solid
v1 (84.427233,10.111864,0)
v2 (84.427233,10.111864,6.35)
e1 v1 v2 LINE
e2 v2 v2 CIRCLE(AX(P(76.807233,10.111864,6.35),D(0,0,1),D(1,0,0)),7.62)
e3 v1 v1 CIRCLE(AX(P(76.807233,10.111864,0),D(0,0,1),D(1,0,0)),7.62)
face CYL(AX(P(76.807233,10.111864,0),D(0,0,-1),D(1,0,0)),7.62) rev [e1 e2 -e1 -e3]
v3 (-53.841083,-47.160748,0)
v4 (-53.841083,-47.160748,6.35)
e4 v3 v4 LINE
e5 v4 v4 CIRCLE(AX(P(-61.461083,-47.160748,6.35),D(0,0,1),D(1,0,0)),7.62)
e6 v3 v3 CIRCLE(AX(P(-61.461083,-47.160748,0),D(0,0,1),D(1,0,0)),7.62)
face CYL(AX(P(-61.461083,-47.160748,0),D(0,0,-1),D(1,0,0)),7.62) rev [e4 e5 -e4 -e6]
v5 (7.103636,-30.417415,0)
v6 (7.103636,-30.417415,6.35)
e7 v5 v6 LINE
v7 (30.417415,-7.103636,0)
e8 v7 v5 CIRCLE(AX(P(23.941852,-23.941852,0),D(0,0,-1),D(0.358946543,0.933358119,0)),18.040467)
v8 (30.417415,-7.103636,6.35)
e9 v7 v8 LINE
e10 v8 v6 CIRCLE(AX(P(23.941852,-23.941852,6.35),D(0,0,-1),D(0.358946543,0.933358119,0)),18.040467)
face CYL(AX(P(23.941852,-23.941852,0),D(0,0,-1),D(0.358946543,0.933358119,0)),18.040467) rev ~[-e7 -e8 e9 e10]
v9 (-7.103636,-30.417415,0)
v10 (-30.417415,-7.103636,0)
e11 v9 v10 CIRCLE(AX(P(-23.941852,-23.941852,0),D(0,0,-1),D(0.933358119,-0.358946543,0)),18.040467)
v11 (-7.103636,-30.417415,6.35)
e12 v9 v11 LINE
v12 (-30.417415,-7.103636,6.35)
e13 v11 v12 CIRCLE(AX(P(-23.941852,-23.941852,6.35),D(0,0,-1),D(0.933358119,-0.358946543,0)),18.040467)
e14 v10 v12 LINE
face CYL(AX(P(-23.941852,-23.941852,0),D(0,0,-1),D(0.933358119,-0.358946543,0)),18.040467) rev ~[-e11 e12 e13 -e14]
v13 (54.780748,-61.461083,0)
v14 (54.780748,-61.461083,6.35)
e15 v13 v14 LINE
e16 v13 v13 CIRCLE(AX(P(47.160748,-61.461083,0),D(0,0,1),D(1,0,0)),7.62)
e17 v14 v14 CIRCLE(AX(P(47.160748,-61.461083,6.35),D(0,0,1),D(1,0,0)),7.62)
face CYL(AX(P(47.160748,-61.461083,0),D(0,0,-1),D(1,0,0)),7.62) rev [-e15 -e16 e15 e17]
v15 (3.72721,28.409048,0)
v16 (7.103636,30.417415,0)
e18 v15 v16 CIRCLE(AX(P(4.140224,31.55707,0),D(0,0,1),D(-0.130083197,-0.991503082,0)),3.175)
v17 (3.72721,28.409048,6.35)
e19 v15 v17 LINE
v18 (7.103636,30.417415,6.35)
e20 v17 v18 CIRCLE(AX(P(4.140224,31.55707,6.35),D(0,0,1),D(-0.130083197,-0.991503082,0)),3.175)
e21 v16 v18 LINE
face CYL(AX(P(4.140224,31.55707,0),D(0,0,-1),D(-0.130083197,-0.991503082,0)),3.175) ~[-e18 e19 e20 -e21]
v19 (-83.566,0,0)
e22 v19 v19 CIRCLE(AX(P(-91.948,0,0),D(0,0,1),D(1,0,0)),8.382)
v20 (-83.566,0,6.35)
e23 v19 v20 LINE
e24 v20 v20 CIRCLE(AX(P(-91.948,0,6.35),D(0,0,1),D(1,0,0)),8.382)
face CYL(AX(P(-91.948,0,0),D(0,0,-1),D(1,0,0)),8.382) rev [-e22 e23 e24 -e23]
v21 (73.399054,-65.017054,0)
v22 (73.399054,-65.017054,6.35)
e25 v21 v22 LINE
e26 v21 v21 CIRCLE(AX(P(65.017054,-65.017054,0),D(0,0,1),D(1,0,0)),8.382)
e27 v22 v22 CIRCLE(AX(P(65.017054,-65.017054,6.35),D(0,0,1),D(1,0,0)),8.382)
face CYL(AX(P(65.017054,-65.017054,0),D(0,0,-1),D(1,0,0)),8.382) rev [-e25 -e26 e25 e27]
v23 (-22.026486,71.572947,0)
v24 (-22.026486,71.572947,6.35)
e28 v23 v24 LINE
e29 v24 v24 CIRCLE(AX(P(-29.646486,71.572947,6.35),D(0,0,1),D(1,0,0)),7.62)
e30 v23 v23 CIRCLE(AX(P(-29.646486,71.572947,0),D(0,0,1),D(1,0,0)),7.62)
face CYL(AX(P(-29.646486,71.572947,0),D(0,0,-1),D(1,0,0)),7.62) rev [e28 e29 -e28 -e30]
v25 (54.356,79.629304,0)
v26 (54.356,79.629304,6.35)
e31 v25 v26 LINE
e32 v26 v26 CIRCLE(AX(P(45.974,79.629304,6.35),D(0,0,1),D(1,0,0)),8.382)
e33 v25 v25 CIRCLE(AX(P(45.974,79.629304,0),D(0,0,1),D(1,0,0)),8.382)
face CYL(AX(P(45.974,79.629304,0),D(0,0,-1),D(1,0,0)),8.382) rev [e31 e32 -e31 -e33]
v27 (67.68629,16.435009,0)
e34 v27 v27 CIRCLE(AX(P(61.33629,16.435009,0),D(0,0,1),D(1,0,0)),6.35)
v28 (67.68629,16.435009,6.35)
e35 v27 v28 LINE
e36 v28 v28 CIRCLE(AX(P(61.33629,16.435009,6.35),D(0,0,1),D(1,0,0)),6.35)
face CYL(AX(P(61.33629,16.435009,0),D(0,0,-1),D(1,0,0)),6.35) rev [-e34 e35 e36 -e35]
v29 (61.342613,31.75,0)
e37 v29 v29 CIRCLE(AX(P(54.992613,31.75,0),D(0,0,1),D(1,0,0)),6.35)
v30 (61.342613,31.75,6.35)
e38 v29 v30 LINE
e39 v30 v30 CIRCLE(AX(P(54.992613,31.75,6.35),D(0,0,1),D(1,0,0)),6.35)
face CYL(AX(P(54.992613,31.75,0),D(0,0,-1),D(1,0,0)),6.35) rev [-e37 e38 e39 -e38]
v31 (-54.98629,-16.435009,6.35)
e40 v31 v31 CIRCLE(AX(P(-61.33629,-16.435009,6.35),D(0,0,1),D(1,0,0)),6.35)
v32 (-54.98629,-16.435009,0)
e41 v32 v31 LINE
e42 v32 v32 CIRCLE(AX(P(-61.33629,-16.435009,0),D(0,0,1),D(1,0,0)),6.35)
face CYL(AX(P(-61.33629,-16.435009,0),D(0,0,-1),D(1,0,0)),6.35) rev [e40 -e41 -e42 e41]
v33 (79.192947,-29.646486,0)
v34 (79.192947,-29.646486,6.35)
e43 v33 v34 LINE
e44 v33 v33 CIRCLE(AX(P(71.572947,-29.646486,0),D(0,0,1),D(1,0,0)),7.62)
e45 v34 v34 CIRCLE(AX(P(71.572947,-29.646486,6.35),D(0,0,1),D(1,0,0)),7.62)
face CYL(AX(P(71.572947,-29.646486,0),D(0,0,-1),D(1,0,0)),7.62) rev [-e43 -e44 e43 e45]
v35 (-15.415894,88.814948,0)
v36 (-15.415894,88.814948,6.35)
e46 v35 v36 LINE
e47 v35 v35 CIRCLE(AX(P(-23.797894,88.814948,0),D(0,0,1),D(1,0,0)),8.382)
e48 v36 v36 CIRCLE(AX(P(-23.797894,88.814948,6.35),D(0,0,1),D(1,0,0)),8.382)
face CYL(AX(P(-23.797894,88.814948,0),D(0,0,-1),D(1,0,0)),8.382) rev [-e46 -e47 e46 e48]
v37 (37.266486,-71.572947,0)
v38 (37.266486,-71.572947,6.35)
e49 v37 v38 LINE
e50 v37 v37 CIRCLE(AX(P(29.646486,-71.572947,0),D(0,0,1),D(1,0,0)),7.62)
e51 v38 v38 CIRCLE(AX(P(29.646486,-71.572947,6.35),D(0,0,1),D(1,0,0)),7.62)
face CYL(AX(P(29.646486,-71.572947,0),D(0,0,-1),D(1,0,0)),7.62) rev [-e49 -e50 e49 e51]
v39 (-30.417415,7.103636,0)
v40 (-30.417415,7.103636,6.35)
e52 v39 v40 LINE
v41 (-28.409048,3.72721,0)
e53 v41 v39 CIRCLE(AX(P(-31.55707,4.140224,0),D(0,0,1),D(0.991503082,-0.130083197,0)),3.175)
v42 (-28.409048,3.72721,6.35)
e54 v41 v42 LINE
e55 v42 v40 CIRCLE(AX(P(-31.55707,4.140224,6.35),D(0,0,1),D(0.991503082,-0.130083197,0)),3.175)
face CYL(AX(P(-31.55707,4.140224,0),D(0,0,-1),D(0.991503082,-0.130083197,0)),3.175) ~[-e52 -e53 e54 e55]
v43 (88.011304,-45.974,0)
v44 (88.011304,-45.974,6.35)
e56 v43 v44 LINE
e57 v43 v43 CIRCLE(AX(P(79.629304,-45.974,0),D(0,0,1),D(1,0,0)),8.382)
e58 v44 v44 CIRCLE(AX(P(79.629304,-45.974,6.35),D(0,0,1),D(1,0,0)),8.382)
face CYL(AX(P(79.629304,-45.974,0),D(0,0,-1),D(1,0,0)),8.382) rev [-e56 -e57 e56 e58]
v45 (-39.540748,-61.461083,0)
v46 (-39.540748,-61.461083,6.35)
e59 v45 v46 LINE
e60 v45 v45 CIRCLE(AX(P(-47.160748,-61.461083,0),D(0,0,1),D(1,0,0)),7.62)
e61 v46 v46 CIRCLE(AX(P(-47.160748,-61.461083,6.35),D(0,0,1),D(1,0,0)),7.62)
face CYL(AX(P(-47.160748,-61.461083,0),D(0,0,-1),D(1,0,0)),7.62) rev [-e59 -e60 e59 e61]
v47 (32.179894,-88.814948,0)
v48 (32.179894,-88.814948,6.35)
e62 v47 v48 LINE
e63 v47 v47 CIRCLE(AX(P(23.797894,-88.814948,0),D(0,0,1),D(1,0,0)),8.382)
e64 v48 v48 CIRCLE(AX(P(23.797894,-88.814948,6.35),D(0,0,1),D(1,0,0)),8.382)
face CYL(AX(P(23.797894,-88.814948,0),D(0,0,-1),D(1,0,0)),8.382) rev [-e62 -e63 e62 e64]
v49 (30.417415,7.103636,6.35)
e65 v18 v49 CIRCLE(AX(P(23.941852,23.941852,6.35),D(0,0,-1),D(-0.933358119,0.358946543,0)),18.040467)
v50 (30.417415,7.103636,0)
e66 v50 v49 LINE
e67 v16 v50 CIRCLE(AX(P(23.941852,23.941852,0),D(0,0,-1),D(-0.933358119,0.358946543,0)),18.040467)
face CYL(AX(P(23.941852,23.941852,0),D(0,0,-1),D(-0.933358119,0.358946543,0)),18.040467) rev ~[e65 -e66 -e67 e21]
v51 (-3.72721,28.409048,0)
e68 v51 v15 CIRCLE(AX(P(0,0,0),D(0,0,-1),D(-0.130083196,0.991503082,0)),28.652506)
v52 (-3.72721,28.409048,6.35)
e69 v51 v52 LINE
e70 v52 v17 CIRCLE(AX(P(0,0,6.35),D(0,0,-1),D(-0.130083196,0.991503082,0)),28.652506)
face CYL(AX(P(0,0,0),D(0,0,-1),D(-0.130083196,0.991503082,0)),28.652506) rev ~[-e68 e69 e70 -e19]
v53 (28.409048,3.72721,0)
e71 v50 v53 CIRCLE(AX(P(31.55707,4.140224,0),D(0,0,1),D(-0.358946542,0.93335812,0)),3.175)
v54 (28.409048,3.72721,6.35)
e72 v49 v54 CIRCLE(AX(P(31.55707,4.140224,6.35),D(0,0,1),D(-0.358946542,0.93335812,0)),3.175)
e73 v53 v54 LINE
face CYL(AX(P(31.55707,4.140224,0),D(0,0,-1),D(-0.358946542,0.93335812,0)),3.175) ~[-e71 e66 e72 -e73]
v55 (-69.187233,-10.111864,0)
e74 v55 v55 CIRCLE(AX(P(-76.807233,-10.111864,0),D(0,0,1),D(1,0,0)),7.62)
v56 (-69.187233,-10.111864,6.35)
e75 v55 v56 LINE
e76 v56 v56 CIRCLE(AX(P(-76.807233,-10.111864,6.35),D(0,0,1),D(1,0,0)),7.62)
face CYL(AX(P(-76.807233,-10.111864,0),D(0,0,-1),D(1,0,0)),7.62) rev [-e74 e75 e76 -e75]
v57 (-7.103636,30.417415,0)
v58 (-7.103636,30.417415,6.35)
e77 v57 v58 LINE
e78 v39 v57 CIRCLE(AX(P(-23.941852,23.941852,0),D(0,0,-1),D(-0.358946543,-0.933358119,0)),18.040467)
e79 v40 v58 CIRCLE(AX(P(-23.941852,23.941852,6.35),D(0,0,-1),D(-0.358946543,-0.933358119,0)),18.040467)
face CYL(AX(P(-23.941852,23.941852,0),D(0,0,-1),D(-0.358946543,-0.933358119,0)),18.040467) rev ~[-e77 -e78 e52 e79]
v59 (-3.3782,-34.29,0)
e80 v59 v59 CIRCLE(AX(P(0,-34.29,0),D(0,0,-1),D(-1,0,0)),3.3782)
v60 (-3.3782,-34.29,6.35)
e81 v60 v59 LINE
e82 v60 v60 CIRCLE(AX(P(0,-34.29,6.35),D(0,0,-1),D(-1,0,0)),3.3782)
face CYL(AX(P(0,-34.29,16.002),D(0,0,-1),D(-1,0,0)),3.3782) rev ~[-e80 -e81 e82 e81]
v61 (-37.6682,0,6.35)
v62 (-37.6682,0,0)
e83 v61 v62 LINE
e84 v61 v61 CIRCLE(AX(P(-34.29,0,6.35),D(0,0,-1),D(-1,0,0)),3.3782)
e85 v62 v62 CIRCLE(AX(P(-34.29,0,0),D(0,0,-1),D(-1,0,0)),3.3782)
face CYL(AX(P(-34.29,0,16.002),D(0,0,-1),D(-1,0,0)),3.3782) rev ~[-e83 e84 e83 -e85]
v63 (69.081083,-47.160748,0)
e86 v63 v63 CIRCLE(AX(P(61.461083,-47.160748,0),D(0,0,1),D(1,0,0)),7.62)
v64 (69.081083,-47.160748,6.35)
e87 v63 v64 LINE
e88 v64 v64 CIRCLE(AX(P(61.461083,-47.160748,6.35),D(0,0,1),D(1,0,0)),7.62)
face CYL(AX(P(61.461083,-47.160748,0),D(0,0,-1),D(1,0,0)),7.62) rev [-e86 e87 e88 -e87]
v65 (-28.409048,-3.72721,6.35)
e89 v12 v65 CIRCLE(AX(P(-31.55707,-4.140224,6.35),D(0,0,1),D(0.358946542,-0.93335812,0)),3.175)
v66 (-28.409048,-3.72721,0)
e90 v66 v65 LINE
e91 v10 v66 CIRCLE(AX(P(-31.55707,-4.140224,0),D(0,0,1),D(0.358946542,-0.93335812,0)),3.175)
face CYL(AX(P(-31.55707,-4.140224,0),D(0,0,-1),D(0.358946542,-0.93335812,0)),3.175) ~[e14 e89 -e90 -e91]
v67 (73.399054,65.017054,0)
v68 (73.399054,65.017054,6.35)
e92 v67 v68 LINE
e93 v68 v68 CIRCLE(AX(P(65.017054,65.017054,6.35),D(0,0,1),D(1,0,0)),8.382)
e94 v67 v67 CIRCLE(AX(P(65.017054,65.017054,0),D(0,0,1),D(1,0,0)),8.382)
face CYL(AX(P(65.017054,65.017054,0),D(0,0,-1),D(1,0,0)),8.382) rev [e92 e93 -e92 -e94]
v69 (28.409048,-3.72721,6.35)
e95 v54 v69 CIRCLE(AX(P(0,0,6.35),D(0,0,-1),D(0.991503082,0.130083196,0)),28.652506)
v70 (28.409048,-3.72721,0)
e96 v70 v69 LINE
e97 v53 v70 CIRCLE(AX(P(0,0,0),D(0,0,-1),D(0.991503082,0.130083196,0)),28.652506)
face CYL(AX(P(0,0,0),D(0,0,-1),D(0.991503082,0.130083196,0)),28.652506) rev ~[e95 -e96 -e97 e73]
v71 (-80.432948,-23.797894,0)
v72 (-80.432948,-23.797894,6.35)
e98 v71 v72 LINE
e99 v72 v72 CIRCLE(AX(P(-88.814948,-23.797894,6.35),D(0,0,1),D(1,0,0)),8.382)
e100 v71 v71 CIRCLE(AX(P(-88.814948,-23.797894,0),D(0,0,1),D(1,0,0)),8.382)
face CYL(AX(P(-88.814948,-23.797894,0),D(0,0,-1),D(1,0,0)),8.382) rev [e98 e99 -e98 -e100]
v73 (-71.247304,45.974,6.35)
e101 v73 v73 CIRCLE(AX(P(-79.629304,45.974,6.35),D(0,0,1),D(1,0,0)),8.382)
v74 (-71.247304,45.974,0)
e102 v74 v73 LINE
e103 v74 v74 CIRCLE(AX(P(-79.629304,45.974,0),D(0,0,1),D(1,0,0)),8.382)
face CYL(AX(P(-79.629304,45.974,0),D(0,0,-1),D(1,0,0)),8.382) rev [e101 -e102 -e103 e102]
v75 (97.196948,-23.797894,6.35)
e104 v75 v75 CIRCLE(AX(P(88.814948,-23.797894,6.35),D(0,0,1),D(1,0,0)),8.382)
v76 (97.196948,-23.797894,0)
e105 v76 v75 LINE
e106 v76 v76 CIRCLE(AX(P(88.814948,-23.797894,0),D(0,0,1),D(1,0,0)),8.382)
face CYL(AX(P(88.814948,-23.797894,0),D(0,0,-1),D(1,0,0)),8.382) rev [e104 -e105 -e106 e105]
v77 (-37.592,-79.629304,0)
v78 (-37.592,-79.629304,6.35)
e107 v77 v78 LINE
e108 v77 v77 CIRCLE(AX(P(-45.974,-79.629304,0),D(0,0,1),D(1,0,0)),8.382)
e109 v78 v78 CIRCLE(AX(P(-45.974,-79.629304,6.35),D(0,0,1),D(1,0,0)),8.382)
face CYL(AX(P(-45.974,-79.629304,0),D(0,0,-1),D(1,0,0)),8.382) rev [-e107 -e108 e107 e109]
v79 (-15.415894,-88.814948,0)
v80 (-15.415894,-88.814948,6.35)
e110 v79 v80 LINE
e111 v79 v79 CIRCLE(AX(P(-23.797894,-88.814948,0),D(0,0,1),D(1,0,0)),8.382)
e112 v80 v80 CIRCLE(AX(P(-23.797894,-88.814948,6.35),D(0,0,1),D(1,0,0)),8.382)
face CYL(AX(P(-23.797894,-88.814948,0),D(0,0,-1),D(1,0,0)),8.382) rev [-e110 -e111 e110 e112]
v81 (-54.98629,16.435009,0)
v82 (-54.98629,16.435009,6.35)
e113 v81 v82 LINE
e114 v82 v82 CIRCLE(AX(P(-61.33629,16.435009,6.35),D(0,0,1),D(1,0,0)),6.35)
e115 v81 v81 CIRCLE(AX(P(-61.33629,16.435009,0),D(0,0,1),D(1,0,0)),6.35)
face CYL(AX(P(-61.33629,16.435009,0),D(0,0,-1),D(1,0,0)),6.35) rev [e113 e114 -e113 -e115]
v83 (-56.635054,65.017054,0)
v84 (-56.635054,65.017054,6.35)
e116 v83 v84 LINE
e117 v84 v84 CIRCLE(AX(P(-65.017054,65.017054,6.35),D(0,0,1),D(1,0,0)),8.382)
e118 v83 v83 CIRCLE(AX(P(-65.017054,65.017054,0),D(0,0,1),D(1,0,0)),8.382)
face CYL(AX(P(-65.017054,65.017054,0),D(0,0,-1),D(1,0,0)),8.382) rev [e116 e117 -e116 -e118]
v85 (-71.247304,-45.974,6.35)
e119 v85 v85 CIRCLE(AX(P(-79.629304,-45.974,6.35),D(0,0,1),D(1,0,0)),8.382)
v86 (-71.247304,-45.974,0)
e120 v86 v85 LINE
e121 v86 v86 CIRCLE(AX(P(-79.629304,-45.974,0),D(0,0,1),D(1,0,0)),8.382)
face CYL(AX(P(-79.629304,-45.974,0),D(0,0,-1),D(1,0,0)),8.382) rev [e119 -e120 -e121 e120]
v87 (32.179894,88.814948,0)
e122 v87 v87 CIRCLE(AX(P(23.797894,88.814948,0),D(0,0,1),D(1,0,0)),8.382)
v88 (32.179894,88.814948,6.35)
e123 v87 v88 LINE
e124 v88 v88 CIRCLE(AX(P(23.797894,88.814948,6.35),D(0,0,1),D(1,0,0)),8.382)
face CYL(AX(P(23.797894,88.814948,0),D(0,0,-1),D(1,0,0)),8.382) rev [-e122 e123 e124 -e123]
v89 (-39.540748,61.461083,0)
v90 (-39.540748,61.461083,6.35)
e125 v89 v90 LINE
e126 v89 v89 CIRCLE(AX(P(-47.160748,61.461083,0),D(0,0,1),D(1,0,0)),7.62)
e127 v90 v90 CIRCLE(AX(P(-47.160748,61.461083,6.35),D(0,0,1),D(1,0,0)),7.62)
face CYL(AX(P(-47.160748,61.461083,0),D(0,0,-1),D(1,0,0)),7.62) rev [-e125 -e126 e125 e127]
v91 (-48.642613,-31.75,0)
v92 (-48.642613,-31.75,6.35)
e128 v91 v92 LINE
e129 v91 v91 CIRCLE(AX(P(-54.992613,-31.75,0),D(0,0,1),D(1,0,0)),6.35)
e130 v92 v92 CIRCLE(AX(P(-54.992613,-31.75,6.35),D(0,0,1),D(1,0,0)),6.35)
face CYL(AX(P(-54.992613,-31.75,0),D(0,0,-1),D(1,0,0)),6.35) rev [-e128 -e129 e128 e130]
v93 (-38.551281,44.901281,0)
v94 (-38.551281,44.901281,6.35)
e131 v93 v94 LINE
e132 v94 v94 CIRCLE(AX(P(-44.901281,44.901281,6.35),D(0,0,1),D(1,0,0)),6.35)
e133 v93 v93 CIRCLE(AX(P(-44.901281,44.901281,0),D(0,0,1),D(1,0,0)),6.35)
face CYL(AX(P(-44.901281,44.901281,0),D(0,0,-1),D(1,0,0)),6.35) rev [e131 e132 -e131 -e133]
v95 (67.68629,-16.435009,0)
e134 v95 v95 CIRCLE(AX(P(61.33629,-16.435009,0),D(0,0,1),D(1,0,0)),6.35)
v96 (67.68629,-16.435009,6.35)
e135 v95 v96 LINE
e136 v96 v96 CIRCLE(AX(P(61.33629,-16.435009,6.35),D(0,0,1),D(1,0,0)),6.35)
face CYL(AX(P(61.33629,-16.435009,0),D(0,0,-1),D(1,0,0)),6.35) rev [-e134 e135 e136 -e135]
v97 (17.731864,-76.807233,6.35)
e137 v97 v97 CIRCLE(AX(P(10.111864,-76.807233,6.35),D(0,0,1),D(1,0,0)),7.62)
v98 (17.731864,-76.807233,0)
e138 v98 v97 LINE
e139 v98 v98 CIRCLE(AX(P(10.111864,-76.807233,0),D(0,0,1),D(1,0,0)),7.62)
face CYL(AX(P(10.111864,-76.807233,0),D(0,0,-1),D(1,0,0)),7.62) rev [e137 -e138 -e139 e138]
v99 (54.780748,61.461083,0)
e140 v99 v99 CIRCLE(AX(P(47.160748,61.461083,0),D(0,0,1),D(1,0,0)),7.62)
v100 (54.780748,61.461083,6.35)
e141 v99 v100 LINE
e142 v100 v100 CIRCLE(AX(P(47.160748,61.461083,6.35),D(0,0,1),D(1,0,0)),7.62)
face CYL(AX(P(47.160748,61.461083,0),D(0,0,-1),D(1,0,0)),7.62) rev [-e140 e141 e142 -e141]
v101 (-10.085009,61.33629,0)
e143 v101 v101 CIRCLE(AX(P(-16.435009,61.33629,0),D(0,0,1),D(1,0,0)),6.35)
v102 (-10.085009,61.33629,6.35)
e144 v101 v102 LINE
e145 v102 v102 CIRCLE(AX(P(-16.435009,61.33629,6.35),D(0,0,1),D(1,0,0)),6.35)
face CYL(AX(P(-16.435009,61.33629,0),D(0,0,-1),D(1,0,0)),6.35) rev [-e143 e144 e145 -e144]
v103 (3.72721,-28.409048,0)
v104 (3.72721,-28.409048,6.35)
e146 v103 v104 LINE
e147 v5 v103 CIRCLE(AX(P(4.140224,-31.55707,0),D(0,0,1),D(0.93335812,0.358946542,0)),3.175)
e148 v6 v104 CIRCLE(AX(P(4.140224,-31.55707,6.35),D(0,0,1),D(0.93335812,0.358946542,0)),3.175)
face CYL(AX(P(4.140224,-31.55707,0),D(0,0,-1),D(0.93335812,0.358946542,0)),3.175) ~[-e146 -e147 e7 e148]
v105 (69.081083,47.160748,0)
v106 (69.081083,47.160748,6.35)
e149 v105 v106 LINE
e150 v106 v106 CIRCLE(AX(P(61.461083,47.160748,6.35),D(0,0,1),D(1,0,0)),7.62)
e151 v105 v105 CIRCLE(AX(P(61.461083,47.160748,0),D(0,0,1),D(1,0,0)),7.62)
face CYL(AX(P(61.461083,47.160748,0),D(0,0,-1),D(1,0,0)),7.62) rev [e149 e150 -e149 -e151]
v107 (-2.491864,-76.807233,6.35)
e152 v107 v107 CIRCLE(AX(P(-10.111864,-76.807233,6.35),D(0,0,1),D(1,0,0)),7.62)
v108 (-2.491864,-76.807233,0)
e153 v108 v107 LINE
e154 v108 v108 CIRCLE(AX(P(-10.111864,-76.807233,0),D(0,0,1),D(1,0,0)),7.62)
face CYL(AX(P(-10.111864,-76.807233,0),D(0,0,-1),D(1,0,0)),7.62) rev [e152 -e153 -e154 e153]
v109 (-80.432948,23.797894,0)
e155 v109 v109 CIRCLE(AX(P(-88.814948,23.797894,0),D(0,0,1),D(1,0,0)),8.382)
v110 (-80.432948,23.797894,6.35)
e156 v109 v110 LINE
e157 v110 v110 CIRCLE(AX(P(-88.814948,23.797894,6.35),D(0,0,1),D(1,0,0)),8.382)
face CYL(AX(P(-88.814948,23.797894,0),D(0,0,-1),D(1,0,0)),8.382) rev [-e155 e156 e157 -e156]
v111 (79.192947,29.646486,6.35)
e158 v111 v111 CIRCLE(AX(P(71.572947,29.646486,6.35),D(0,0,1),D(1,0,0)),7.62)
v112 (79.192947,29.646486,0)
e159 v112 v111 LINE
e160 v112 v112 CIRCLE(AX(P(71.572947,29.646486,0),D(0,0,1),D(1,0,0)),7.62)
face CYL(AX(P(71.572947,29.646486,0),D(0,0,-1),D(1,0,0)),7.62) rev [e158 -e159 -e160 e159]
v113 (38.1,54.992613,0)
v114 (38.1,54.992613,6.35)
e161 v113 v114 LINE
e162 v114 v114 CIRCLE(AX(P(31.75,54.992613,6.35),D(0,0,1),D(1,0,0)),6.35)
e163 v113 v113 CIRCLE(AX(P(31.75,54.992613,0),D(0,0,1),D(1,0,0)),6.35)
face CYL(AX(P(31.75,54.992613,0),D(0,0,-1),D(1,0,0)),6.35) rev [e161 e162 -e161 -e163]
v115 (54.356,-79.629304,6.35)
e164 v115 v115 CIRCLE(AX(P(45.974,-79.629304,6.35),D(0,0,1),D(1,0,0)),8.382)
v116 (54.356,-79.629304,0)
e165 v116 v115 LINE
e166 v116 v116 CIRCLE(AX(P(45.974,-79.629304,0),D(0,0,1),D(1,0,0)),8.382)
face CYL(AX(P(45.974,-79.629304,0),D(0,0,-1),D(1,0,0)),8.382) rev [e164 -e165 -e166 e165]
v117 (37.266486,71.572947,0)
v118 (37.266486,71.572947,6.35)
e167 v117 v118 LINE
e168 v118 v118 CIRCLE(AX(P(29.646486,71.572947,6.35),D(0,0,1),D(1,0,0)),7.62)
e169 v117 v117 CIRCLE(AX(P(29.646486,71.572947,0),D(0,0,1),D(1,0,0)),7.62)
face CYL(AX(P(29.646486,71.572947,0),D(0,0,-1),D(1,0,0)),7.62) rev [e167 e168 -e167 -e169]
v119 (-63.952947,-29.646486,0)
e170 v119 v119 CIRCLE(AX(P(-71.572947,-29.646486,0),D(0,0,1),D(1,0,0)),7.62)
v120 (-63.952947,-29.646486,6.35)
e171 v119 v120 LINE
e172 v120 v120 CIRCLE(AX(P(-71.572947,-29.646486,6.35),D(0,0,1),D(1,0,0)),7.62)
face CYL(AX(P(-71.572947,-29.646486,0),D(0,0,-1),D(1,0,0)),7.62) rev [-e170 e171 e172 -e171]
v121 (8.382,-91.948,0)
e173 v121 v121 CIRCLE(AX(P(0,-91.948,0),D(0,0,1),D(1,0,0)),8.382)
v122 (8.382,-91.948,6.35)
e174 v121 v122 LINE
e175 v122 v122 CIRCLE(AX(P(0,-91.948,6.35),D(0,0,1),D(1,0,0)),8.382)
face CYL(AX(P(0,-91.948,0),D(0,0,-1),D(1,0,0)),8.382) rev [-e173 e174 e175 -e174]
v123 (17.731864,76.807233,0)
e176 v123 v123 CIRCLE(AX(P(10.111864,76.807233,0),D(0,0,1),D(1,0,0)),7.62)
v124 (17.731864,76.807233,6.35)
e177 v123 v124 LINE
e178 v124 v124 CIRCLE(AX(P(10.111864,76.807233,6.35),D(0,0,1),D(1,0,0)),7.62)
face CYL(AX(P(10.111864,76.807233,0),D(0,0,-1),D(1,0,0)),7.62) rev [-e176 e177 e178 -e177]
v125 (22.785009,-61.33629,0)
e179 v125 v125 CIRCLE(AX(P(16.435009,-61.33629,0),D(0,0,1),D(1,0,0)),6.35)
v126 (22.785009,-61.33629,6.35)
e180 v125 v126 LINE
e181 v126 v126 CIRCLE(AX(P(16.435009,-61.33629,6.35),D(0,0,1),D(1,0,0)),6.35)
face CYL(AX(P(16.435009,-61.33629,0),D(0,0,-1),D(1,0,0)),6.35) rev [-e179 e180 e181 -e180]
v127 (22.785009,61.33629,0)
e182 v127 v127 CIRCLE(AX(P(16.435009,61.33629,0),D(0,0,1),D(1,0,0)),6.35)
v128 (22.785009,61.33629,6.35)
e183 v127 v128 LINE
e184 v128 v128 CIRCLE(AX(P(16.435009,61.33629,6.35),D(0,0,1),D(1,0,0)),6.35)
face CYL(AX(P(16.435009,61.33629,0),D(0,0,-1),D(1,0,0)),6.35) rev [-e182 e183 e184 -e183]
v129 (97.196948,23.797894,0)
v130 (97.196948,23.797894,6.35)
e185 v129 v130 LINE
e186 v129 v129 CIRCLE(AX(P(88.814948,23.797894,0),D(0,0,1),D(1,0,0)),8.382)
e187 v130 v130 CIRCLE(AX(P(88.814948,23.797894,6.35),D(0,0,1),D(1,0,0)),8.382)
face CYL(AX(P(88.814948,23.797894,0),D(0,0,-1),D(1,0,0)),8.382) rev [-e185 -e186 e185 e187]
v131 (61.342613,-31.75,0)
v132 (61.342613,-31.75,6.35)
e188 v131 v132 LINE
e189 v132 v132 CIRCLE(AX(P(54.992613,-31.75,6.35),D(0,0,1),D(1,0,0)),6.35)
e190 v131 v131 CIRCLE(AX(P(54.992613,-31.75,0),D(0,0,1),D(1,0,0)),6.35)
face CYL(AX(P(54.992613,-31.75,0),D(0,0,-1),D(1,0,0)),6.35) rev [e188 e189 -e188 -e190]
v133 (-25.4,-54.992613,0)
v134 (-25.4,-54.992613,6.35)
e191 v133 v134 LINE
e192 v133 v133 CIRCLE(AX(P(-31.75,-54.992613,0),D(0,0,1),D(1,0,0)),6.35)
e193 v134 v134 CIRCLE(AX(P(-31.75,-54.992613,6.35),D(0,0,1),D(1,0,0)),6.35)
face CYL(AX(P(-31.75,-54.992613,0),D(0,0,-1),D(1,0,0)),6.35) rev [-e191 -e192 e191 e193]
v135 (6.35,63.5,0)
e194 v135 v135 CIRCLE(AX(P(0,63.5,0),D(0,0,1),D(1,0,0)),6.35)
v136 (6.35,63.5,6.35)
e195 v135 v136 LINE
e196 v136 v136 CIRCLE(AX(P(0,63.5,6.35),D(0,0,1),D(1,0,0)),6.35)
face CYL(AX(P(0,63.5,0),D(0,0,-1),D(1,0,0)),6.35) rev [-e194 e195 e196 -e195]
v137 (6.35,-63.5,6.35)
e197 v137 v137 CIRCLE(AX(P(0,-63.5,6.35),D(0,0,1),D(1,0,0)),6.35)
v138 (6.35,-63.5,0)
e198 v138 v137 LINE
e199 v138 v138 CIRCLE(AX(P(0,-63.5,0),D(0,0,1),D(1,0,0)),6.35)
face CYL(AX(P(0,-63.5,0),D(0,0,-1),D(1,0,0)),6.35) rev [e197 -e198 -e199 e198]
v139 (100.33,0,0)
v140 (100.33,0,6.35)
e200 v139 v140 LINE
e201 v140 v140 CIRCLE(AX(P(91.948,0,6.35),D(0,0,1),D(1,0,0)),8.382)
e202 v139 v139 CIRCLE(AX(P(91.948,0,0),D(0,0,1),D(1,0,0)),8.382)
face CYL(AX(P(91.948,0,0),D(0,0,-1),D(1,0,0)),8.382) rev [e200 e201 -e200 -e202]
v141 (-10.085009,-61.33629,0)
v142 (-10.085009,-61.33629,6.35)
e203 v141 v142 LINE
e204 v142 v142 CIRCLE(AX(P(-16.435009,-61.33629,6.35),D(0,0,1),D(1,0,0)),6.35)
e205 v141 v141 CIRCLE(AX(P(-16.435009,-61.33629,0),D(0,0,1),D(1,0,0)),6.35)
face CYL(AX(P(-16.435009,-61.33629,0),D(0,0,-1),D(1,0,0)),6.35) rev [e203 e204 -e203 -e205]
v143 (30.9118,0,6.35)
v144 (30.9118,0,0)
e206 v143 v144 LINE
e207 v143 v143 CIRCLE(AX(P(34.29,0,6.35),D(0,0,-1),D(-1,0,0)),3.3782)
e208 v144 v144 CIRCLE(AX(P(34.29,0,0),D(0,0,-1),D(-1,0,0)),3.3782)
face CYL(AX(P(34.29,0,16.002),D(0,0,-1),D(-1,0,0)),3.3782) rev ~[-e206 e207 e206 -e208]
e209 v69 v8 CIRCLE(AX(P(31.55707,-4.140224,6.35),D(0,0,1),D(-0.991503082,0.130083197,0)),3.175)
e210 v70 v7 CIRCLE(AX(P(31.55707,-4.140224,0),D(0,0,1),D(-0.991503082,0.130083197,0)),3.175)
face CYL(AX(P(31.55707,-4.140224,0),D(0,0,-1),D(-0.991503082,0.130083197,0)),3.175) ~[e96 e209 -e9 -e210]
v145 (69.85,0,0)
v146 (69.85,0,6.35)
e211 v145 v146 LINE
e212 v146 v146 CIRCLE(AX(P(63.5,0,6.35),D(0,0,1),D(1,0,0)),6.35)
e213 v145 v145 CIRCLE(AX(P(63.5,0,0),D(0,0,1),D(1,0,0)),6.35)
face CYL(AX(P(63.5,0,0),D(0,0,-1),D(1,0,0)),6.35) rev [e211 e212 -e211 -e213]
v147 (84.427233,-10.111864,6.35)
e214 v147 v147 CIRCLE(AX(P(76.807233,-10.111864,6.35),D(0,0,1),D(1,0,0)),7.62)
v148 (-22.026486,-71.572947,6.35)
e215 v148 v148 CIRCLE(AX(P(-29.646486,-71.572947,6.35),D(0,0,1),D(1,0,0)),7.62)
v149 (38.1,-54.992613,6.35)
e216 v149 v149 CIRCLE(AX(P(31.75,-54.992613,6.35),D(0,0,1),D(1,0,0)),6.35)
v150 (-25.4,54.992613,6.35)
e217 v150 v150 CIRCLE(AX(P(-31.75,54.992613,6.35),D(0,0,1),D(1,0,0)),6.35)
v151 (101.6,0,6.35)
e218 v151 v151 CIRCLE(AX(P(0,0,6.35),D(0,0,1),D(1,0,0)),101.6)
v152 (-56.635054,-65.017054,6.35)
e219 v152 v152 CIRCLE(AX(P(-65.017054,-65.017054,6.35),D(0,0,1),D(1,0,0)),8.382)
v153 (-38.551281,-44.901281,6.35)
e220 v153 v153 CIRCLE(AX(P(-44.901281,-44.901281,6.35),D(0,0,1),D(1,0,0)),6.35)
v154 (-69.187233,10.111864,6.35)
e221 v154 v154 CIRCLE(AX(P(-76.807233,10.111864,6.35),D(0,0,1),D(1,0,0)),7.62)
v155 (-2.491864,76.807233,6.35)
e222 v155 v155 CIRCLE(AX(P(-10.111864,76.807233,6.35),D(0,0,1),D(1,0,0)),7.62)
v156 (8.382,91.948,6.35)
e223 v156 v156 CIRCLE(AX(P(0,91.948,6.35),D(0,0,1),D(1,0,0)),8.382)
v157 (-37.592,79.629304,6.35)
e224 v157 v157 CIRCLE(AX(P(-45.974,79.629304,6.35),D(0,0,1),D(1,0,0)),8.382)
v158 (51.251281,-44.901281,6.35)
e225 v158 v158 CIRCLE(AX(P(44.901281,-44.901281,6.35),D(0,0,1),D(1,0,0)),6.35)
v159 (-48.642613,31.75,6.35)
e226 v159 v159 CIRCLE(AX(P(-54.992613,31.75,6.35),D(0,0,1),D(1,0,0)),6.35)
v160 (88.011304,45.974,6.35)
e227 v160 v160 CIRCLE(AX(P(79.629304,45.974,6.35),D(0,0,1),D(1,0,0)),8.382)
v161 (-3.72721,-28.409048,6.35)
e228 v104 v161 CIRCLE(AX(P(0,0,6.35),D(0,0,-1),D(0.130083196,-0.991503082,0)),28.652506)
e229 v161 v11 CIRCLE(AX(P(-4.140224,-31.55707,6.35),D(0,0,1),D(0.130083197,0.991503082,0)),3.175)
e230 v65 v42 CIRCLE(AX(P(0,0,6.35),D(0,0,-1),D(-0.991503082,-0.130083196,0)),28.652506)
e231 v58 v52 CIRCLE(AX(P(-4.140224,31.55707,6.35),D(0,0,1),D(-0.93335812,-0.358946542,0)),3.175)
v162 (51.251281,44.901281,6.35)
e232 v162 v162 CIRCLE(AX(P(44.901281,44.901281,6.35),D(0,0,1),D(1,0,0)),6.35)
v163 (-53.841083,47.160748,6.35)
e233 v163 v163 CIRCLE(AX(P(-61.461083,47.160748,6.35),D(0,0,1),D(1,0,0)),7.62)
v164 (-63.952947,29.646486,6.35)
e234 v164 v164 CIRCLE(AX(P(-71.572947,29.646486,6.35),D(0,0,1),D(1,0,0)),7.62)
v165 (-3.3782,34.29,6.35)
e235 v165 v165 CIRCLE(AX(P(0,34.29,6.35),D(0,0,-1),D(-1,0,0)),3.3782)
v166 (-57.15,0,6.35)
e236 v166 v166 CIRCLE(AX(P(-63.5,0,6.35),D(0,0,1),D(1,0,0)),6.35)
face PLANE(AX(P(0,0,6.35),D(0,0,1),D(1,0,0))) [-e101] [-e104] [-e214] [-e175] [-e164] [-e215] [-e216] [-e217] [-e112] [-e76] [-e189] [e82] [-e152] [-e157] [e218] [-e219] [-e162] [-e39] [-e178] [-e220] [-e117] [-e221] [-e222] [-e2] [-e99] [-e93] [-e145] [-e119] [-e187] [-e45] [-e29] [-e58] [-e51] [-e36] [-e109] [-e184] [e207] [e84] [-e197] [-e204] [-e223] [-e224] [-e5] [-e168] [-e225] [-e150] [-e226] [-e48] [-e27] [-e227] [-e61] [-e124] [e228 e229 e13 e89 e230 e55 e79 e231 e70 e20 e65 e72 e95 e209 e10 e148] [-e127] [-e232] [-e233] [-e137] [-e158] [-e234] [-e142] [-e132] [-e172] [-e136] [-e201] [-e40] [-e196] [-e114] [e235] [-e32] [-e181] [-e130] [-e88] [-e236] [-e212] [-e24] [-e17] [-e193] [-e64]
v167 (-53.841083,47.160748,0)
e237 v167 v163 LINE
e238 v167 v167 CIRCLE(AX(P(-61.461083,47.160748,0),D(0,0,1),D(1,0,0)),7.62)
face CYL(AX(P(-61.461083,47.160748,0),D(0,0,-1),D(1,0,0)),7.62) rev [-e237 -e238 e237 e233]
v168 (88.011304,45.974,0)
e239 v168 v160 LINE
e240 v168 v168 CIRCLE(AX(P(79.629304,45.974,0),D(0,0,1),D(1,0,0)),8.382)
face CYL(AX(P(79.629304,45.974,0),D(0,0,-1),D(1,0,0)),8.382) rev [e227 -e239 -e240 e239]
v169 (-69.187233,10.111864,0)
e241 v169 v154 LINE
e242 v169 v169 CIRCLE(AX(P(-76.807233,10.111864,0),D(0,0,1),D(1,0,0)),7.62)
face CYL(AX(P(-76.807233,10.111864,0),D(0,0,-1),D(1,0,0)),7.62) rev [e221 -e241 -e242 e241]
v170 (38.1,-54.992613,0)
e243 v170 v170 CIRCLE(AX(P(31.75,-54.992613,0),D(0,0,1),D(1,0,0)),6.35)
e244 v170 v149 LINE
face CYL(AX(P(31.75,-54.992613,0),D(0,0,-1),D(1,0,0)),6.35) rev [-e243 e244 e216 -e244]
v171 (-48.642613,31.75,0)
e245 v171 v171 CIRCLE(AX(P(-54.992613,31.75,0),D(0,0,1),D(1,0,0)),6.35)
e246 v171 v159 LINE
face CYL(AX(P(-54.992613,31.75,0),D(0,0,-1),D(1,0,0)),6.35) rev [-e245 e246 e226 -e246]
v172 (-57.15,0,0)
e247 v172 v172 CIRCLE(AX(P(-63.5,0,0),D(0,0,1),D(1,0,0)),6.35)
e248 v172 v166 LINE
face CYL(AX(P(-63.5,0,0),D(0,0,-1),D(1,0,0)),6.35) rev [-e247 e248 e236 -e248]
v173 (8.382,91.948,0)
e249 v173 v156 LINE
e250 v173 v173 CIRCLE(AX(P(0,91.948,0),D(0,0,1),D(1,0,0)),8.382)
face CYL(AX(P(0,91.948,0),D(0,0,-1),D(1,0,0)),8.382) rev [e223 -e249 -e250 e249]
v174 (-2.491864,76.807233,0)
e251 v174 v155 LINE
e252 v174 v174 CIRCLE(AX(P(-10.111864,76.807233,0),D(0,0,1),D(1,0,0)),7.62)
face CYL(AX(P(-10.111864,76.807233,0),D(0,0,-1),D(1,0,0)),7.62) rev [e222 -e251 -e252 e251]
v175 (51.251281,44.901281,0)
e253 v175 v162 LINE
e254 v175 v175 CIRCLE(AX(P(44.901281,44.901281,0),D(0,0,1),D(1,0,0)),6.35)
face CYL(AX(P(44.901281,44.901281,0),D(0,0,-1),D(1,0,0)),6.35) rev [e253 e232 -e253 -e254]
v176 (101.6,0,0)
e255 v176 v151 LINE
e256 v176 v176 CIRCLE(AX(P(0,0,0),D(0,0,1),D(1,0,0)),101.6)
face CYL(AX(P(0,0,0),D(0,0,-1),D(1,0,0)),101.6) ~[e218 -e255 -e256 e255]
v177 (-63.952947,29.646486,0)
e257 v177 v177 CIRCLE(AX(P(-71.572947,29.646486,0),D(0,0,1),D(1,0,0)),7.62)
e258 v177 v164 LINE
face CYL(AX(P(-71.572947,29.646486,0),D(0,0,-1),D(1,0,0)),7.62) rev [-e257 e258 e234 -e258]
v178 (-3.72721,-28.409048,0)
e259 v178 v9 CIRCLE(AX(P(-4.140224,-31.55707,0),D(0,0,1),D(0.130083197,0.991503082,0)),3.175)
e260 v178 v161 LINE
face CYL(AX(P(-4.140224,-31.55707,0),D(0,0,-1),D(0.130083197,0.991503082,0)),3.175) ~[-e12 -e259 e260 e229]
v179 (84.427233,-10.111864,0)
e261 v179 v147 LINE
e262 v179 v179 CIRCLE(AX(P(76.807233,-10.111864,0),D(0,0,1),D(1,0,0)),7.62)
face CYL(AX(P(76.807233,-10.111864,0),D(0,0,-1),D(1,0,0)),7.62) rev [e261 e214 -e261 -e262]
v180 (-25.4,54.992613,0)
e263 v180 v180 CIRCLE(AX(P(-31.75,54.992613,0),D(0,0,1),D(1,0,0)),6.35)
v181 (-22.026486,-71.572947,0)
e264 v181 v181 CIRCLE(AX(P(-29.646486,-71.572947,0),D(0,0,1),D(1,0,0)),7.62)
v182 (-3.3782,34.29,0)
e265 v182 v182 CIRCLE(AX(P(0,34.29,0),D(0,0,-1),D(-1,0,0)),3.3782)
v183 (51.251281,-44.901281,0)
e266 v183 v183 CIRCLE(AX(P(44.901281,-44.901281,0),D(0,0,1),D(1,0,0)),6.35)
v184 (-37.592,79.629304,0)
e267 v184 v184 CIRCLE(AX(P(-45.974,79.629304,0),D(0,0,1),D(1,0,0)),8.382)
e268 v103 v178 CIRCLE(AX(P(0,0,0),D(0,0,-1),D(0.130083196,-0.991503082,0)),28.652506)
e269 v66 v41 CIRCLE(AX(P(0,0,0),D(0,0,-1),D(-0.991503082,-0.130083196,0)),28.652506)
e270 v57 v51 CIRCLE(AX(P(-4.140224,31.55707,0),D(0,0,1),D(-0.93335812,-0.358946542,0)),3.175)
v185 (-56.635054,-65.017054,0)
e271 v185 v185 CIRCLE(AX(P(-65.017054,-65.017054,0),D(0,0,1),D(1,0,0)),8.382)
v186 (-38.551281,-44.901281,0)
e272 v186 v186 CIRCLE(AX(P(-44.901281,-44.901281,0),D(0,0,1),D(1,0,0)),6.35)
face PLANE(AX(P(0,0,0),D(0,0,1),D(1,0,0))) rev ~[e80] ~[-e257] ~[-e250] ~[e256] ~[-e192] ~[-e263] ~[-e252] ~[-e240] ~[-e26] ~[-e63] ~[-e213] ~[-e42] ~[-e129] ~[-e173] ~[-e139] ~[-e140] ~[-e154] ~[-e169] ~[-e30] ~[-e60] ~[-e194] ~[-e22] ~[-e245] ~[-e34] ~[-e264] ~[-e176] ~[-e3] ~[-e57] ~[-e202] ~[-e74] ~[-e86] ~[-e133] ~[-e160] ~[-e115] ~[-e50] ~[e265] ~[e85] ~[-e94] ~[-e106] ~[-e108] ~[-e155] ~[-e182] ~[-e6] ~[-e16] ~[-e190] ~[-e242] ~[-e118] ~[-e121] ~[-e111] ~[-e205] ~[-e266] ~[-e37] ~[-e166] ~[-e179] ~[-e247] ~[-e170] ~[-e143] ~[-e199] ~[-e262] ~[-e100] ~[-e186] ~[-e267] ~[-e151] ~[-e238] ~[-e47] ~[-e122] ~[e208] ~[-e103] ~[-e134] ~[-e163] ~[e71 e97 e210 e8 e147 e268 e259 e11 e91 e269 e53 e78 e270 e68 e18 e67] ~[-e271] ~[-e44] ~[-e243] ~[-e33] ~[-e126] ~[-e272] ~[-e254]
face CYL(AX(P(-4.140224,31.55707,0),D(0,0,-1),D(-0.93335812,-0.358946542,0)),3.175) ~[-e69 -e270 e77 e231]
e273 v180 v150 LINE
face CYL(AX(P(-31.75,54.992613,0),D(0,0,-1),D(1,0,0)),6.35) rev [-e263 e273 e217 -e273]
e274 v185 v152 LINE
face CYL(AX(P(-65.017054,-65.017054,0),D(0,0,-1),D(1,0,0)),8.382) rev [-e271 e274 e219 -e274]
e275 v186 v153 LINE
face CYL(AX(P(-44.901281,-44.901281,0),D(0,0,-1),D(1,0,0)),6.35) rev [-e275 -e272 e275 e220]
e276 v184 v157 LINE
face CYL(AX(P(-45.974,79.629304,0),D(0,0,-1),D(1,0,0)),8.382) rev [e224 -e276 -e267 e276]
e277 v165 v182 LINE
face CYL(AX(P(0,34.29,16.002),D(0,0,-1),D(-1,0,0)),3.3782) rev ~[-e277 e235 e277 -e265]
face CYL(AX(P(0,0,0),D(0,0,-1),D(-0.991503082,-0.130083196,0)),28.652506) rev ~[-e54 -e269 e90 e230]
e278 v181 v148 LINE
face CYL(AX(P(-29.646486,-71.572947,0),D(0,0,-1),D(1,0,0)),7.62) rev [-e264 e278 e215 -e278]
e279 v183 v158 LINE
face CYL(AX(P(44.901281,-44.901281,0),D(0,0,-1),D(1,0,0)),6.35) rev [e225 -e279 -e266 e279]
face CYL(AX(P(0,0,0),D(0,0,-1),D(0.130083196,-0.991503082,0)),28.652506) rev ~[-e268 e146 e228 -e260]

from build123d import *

# Parameters (mm, degrees)
SKETCH1_R                   = 101.6
SKETCH1_R_2                 = 6.35
SKETCH1_R_3                 = 7.62
SKETCH1_R_4                 = 8.382
BOSS_EXTRUDE1_DEPTH         = 6.35
F_1_4_CLEARANCE_HOLE1_D     = 6.7564
F_1_4_CLEARANCE_HOLE1_DEPTH = 9.652
F_1_4_CLEARANCE_HOLE1_TIP   = 2.029827343


with BuildPart() as part:
    # Sketch1 → Boss-Extrude1 (new body)
    with BuildSketch(Plane.XY):
        Circle(SKETCH1_R)
        with Locations((0, 63.5)):
            Circle(SKETCH1_R_2, mode=Mode.SUBTRACT)
        with Locations((16.435009364, 61.336289969)):
            Circle(SKETCH1_R_2, mode=Mode.SUBTRACT)
        with Locations((31.75, 54.99261314)):
            Circle(SKETCH1_R_2, mode=Mode.SUBTRACT)
        with Locations((44.901280605, 44.901280605)):
            Circle(SKETCH1_R_2, mode=Mode.SUBTRACT)
        with Locations((54.99261314, 31.75)):
            Circle(SKETCH1_R_2, mode=Mode.SUBTRACT)
        with Locations((61.336289969, 16.435009364)):
            Circle(SKETCH1_R_2, mode=Mode.SUBTRACT)
        with Locations((63.5, 0)):
            Circle(SKETCH1_R_2, mode=Mode.SUBTRACT)
        with Locations((61.336289969, -16.435009364)):
            Circle(SKETCH1_R_2, mode=Mode.SUBTRACT)
        with Locations((54.99261314, -31.75)):
            Circle(SKETCH1_R_2, mode=Mode.SUBTRACT)
        with Locations((44.901280605, -44.901280605)):
            Circle(SKETCH1_R_2, mode=Mode.SUBTRACT)
        with Locations((31.75, -54.99261314)):
            Circle(SKETCH1_R_2, mode=Mode.SUBTRACT)
        with Locations((16.435009364, -61.336289969)):
            Circle(SKETCH1_R_2, mode=Mode.SUBTRACT)
        with Locations((0, -63.5)):
            Circle(SKETCH1_R_2, mode=Mode.SUBTRACT)
        with Locations((-16.435009364, -61.336289969)):
            Circle(SKETCH1_R_2, mode=Mode.SUBTRACT)
        with Locations((-31.75, -54.99261314)):
            Circle(SKETCH1_R_2, mode=Mode.SUBTRACT)
        with Locations((-44.901280605, -44.901280605)):
            Circle(SKETCH1_R_2, mode=Mode.SUBTRACT)
        with Locations((-54.99261314, -31.75)):
            Circle(SKETCH1_R_2, mode=Mode.SUBTRACT)
        with Locations((-61.336289969, -16.435009364)):
            Circle(SKETCH1_R_2, mode=Mode.SUBTRACT)
        with Locations((-63.5, 0)):
            Circle(SKETCH1_R_2, mode=Mode.SUBTRACT)
        with Locations((-61.336289969, 16.435009364)):
            Circle(SKETCH1_R_2, mode=Mode.SUBTRACT)
        with Locations((-54.99261314, 31.75)):
            Circle(SKETCH1_R_2, mode=Mode.SUBTRACT)
        with Locations((-44.901280605, 44.901280605)):
            Circle(SKETCH1_R_2, mode=Mode.SUBTRACT)
        with Locations((-31.75, 54.99261314)):
            Circle(SKETCH1_R_2, mode=Mode.SUBTRACT)
        with Locations((-16.435009364, 61.336289969)):
            Circle(SKETCH1_R_2, mode=Mode.SUBTRACT)
        with Locations((10.111864111, 76.807233411)):
            Circle(SKETCH1_R_3, mode=Mode.SUBTRACT)
        with Locations((29.646485505, 71.572947384)):
            Circle(SKETCH1_R_3, mode=Mode.SUBTRACT)
        with Locations((47.160747905, 61.461083272)):
            Circle(SKETCH1_R_3, mode=Mode.SUBTRACT)
        with Locations((61.461083272, 47.160747905)):
            Circle(SKETCH1_R_3, mode=Mode.SUBTRACT)
        with Locations((71.572947384, 29.646485505)):
            Circle(SKETCH1_R_3, mode=Mode.SUBTRACT)
        with Locations((76.807233411, 10.111864111)):
            Circle(SKETCH1_R_3, mode=Mode.SUBTRACT)
        with Locations((76.807233411, -10.111864111)):
            Circle(SKETCH1_R_3, mode=Mode.SUBTRACT)
        with Locations((71.572947384, -29.646485505)):
            Circle(SKETCH1_R_3, mode=Mode.SUBTRACT)
        with Locations((61.461083272, -47.160747905)):
            Circle(SKETCH1_R_3, mode=Mode.SUBTRACT)
        with Locations((47.160747905, -61.461083272)):
            Circle(SKETCH1_R_3, mode=Mode.SUBTRACT)
        with Locations((29.646485505, -71.572947384)):
            Circle(SKETCH1_R_3, mode=Mode.SUBTRACT)
        with Locations((10.111864111, -76.807233411)):
            Circle(SKETCH1_R_3, mode=Mode.SUBTRACT)
        with Locations((-10.111864111, -76.807233411)):
            Circle(SKETCH1_R_3, mode=Mode.SUBTRACT)
        with Locations((-29.646485505, -71.572947384)):
            Circle(SKETCH1_R_3, mode=Mode.SUBTRACT)
        with Locations((-47.160747905, -61.461083272)):
            Circle(SKETCH1_R_3, mode=Mode.SUBTRACT)
        with Locations((-61.461083272, -47.160747905)):
            Circle(SKETCH1_R_3, mode=Mode.SUBTRACT)
        with Locations((-71.572947384, -29.646485505)):
            Circle(SKETCH1_R_3, mode=Mode.SUBTRACT)
        with Locations((-76.807233411, -10.111864111)):
            Circle(SKETCH1_R_3, mode=Mode.SUBTRACT)
        with Locations((-76.807233411, 10.111864111)):
            Circle(SKETCH1_R_3, mode=Mode.SUBTRACT)
        with Locations((-71.572947384, 29.646485505)):
            Circle(SKETCH1_R_3, mode=Mode.SUBTRACT)
        with Locations((-61.461083272, 47.160747905)):
            Circle(SKETCH1_R_3, mode=Mode.SUBTRACT)
        with Locations((-47.160747905, 61.461083272)):
            Circle(SKETCH1_R_3, mode=Mode.SUBTRACT)
        with Locations((-29.646485505, 71.572947384)):
            Circle(SKETCH1_R_3, mode=Mode.SUBTRACT)
        with Locations((-10.111864111, 76.807233411)):
            Circle(SKETCH1_R_3, mode=Mode.SUBTRACT)
        with Locations((0, 91.948)):
            Circle(SKETCH1_R_4, mode=Mode.SUBTRACT)
        with Locations((23.797893559, 88.814947876)):
            Circle(SKETCH1_R_4, mode=Mode.SUBTRACT)
        with Locations((45.974, 79.629303827)):
            Circle(SKETCH1_R_4, mode=Mode.SUBTRACT)
        with Locations((65.017054317, 65.017054317)):
            Circle(SKETCH1_R_4, mode=Mode.SUBTRACT)
        with Locations((79.629303827, 45.974)):
            Circle(SKETCH1_R_4, mode=Mode.SUBTRACT)
        with Locations((88.814947876, 23.797893559)):
            Circle(SKETCH1_R_4, mode=Mode.SUBTRACT)
        with Locations((91.948, 0)):
            Circle(SKETCH1_R_4, mode=Mode.SUBTRACT)
        with Locations((88.814947876, -23.797893559)):
            Circle(SKETCH1_R_4, mode=Mode.SUBTRACT)
        with Locations((79.629303827, -45.974)):
            Circle(SKETCH1_R_4, mode=Mode.SUBTRACT)
        with Locations((65.017054317, -65.017054317)):
            Circle(SKETCH1_R_4, mode=Mode.SUBTRACT)
        with Locations((45.974, -79.629303827)):
            Circle(SKETCH1_R_4, mode=Mode.SUBTRACT)
        with Locations((23.797893559, -88.814947876)):
            Circle(SKETCH1_R_4, mode=Mode.SUBTRACT)
        with Locations((0, -91.948)):
            Circle(SKETCH1_R_4, mode=Mode.SUBTRACT)
        with Locations((-23.797893559, -88.814947876)):
            Circle(SKETCH1_R_4, mode=Mode.SUBTRACT)
        with Locations((-45.974, -79.629303827)):
            Circle(SKETCH1_R_4, mode=Mode.SUBTRACT)
        with Locations((-65.017054317, -65.017054317)):
            Circle(SKETCH1_R_4, mode=Mode.SUBTRACT)
        with Locations((-79.629303827, -45.974)):
            Circle(SKETCH1_R_4, mode=Mode.SUBTRACT)
        with Locations((-88.814947876, -23.797893559)):
            Circle(SKETCH1_R_4, mode=Mode.SUBTRACT)
        with Locations((-91.948, 0)):
            Circle(SKETCH1_R_4, mode=Mode.SUBTRACT)
        with Locations((-88.814947876, 23.797893559)):
            Circle(SKETCH1_R_4, mode=Mode.SUBTRACT)
        with Locations((-79.629303827, 45.974)):
            Circle(SKETCH1_R_4, mode=Mode.SUBTRACT)
        with Locations((-65.017054317, 65.017054317)):
            Circle(SKETCH1_R_4, mode=Mode.SUBTRACT)
        with Locations((-45.974, 79.629303827)):
            Circle(SKETCH1_R_4, mode=Mode.SUBTRACT)
        with Locations((-23.797893559, 88.814947876)):
            Circle(SKETCH1_R_4, mode=Mode.SUBTRACT)
        with BuildLine():
            ThreePointArc((-28.409048011, -3.727209563), (-28.652505999, 0), (-28.409048011, 3.727209563))
            ThreePointArc((-28.409048011, 3.727209563), (-28.828314509, 5.763343193), (-30.417415023, 7.10363574))
            ThreePointArc((-30.417415023, 7.10363574), (-36.698388219, 36.698388219), (-7.10363574, 30.417415023))
            ThreePointArc((-7.10363574, 30.417415023), (-5.763343193, 28.828314509), (-3.727209563, 28.409048011))
            ThreePointArc((-3.727209563, 28.409048011), (0, 28.652505999), (3.727209563, 28.409048011))
            ThreePointArc((3.727209563, 28.409048011), (5.763343193, 28.828314509), (7.10363574, 30.417415023))
            ThreePointArc((7.10363574, 30.417415023), (36.698388219, 36.698388219), (30.417415023, 7.10363574))
            ThreePointArc((30.417415023, 7.10363574), (28.828314509, 5.763343193), (28.409048011, 3.727209563))
            ThreePointArc((28.409048011, 3.727209563), (28.652505999, 0), (28.409048011, -3.727209563))
            ThreePointArc((28.409048011, -3.727209563), (28.828314509, -5.763343193), (30.417415023, -7.10363574))
            ThreePointArc((30.417415023, -7.10363574), (36.698388219, -36.698388219), (7.10363574, -30.417415023))
            ThreePointArc((7.10363574, -30.417415023), (5.763343193, -28.828314509), (3.727209563, -28.409048011))
            ThreePointArc((3.727209563, -28.409048011), (0, -28.652505999), (-3.727209563, -28.409048011))
            ThreePointArc((-3.727209563, -28.409048011), (-5.763343193, -28.828314509), (-7.10363574, -30.417415023))
            ThreePointArc((-7.10363574, -30.417415023), (-36.698388219, -36.698388219), (-30.417415023, -7.10363574))
            ThreePointArc((-30.417415023, -7.10363574), (-28.828314509, -5.763343193), (-28.409048011, -3.727209563))
        make_face(mode=Mode.SUBTRACT)
    extrude(amount=BOSS_EXTRUDE1_DEPTH)

    # 1/4 Clearance Hole1
    with Locations(Plane(origin=(0, 34.29, 6.35), x_dir=(1, 0, 0), z_dir=(0, 0, 1))):
        with Locations((0, 0), (-34.29, -34.29), (34.29, -34.29), (0, -68.58)):
            Hole(F_1_4_CLEARANCE_HOLE1_D / 2, depth=F_1_4_CLEARANCE_HOLE1_DEPTH)
            with Locations((0, 0, -(F_1_4_CLEARANCE_HOLE1_DEPTH + F_1_4_CLEARANCE_HOLE1_TIP / 2))):  # 118° drill point
                Cone(0, F_1_4_CLEARANCE_HOLE1_D / 2, F_1_4_CLEARANCE_HOLE1_TIP, mode=Mode.SUBTRACT)


solid = part.part
